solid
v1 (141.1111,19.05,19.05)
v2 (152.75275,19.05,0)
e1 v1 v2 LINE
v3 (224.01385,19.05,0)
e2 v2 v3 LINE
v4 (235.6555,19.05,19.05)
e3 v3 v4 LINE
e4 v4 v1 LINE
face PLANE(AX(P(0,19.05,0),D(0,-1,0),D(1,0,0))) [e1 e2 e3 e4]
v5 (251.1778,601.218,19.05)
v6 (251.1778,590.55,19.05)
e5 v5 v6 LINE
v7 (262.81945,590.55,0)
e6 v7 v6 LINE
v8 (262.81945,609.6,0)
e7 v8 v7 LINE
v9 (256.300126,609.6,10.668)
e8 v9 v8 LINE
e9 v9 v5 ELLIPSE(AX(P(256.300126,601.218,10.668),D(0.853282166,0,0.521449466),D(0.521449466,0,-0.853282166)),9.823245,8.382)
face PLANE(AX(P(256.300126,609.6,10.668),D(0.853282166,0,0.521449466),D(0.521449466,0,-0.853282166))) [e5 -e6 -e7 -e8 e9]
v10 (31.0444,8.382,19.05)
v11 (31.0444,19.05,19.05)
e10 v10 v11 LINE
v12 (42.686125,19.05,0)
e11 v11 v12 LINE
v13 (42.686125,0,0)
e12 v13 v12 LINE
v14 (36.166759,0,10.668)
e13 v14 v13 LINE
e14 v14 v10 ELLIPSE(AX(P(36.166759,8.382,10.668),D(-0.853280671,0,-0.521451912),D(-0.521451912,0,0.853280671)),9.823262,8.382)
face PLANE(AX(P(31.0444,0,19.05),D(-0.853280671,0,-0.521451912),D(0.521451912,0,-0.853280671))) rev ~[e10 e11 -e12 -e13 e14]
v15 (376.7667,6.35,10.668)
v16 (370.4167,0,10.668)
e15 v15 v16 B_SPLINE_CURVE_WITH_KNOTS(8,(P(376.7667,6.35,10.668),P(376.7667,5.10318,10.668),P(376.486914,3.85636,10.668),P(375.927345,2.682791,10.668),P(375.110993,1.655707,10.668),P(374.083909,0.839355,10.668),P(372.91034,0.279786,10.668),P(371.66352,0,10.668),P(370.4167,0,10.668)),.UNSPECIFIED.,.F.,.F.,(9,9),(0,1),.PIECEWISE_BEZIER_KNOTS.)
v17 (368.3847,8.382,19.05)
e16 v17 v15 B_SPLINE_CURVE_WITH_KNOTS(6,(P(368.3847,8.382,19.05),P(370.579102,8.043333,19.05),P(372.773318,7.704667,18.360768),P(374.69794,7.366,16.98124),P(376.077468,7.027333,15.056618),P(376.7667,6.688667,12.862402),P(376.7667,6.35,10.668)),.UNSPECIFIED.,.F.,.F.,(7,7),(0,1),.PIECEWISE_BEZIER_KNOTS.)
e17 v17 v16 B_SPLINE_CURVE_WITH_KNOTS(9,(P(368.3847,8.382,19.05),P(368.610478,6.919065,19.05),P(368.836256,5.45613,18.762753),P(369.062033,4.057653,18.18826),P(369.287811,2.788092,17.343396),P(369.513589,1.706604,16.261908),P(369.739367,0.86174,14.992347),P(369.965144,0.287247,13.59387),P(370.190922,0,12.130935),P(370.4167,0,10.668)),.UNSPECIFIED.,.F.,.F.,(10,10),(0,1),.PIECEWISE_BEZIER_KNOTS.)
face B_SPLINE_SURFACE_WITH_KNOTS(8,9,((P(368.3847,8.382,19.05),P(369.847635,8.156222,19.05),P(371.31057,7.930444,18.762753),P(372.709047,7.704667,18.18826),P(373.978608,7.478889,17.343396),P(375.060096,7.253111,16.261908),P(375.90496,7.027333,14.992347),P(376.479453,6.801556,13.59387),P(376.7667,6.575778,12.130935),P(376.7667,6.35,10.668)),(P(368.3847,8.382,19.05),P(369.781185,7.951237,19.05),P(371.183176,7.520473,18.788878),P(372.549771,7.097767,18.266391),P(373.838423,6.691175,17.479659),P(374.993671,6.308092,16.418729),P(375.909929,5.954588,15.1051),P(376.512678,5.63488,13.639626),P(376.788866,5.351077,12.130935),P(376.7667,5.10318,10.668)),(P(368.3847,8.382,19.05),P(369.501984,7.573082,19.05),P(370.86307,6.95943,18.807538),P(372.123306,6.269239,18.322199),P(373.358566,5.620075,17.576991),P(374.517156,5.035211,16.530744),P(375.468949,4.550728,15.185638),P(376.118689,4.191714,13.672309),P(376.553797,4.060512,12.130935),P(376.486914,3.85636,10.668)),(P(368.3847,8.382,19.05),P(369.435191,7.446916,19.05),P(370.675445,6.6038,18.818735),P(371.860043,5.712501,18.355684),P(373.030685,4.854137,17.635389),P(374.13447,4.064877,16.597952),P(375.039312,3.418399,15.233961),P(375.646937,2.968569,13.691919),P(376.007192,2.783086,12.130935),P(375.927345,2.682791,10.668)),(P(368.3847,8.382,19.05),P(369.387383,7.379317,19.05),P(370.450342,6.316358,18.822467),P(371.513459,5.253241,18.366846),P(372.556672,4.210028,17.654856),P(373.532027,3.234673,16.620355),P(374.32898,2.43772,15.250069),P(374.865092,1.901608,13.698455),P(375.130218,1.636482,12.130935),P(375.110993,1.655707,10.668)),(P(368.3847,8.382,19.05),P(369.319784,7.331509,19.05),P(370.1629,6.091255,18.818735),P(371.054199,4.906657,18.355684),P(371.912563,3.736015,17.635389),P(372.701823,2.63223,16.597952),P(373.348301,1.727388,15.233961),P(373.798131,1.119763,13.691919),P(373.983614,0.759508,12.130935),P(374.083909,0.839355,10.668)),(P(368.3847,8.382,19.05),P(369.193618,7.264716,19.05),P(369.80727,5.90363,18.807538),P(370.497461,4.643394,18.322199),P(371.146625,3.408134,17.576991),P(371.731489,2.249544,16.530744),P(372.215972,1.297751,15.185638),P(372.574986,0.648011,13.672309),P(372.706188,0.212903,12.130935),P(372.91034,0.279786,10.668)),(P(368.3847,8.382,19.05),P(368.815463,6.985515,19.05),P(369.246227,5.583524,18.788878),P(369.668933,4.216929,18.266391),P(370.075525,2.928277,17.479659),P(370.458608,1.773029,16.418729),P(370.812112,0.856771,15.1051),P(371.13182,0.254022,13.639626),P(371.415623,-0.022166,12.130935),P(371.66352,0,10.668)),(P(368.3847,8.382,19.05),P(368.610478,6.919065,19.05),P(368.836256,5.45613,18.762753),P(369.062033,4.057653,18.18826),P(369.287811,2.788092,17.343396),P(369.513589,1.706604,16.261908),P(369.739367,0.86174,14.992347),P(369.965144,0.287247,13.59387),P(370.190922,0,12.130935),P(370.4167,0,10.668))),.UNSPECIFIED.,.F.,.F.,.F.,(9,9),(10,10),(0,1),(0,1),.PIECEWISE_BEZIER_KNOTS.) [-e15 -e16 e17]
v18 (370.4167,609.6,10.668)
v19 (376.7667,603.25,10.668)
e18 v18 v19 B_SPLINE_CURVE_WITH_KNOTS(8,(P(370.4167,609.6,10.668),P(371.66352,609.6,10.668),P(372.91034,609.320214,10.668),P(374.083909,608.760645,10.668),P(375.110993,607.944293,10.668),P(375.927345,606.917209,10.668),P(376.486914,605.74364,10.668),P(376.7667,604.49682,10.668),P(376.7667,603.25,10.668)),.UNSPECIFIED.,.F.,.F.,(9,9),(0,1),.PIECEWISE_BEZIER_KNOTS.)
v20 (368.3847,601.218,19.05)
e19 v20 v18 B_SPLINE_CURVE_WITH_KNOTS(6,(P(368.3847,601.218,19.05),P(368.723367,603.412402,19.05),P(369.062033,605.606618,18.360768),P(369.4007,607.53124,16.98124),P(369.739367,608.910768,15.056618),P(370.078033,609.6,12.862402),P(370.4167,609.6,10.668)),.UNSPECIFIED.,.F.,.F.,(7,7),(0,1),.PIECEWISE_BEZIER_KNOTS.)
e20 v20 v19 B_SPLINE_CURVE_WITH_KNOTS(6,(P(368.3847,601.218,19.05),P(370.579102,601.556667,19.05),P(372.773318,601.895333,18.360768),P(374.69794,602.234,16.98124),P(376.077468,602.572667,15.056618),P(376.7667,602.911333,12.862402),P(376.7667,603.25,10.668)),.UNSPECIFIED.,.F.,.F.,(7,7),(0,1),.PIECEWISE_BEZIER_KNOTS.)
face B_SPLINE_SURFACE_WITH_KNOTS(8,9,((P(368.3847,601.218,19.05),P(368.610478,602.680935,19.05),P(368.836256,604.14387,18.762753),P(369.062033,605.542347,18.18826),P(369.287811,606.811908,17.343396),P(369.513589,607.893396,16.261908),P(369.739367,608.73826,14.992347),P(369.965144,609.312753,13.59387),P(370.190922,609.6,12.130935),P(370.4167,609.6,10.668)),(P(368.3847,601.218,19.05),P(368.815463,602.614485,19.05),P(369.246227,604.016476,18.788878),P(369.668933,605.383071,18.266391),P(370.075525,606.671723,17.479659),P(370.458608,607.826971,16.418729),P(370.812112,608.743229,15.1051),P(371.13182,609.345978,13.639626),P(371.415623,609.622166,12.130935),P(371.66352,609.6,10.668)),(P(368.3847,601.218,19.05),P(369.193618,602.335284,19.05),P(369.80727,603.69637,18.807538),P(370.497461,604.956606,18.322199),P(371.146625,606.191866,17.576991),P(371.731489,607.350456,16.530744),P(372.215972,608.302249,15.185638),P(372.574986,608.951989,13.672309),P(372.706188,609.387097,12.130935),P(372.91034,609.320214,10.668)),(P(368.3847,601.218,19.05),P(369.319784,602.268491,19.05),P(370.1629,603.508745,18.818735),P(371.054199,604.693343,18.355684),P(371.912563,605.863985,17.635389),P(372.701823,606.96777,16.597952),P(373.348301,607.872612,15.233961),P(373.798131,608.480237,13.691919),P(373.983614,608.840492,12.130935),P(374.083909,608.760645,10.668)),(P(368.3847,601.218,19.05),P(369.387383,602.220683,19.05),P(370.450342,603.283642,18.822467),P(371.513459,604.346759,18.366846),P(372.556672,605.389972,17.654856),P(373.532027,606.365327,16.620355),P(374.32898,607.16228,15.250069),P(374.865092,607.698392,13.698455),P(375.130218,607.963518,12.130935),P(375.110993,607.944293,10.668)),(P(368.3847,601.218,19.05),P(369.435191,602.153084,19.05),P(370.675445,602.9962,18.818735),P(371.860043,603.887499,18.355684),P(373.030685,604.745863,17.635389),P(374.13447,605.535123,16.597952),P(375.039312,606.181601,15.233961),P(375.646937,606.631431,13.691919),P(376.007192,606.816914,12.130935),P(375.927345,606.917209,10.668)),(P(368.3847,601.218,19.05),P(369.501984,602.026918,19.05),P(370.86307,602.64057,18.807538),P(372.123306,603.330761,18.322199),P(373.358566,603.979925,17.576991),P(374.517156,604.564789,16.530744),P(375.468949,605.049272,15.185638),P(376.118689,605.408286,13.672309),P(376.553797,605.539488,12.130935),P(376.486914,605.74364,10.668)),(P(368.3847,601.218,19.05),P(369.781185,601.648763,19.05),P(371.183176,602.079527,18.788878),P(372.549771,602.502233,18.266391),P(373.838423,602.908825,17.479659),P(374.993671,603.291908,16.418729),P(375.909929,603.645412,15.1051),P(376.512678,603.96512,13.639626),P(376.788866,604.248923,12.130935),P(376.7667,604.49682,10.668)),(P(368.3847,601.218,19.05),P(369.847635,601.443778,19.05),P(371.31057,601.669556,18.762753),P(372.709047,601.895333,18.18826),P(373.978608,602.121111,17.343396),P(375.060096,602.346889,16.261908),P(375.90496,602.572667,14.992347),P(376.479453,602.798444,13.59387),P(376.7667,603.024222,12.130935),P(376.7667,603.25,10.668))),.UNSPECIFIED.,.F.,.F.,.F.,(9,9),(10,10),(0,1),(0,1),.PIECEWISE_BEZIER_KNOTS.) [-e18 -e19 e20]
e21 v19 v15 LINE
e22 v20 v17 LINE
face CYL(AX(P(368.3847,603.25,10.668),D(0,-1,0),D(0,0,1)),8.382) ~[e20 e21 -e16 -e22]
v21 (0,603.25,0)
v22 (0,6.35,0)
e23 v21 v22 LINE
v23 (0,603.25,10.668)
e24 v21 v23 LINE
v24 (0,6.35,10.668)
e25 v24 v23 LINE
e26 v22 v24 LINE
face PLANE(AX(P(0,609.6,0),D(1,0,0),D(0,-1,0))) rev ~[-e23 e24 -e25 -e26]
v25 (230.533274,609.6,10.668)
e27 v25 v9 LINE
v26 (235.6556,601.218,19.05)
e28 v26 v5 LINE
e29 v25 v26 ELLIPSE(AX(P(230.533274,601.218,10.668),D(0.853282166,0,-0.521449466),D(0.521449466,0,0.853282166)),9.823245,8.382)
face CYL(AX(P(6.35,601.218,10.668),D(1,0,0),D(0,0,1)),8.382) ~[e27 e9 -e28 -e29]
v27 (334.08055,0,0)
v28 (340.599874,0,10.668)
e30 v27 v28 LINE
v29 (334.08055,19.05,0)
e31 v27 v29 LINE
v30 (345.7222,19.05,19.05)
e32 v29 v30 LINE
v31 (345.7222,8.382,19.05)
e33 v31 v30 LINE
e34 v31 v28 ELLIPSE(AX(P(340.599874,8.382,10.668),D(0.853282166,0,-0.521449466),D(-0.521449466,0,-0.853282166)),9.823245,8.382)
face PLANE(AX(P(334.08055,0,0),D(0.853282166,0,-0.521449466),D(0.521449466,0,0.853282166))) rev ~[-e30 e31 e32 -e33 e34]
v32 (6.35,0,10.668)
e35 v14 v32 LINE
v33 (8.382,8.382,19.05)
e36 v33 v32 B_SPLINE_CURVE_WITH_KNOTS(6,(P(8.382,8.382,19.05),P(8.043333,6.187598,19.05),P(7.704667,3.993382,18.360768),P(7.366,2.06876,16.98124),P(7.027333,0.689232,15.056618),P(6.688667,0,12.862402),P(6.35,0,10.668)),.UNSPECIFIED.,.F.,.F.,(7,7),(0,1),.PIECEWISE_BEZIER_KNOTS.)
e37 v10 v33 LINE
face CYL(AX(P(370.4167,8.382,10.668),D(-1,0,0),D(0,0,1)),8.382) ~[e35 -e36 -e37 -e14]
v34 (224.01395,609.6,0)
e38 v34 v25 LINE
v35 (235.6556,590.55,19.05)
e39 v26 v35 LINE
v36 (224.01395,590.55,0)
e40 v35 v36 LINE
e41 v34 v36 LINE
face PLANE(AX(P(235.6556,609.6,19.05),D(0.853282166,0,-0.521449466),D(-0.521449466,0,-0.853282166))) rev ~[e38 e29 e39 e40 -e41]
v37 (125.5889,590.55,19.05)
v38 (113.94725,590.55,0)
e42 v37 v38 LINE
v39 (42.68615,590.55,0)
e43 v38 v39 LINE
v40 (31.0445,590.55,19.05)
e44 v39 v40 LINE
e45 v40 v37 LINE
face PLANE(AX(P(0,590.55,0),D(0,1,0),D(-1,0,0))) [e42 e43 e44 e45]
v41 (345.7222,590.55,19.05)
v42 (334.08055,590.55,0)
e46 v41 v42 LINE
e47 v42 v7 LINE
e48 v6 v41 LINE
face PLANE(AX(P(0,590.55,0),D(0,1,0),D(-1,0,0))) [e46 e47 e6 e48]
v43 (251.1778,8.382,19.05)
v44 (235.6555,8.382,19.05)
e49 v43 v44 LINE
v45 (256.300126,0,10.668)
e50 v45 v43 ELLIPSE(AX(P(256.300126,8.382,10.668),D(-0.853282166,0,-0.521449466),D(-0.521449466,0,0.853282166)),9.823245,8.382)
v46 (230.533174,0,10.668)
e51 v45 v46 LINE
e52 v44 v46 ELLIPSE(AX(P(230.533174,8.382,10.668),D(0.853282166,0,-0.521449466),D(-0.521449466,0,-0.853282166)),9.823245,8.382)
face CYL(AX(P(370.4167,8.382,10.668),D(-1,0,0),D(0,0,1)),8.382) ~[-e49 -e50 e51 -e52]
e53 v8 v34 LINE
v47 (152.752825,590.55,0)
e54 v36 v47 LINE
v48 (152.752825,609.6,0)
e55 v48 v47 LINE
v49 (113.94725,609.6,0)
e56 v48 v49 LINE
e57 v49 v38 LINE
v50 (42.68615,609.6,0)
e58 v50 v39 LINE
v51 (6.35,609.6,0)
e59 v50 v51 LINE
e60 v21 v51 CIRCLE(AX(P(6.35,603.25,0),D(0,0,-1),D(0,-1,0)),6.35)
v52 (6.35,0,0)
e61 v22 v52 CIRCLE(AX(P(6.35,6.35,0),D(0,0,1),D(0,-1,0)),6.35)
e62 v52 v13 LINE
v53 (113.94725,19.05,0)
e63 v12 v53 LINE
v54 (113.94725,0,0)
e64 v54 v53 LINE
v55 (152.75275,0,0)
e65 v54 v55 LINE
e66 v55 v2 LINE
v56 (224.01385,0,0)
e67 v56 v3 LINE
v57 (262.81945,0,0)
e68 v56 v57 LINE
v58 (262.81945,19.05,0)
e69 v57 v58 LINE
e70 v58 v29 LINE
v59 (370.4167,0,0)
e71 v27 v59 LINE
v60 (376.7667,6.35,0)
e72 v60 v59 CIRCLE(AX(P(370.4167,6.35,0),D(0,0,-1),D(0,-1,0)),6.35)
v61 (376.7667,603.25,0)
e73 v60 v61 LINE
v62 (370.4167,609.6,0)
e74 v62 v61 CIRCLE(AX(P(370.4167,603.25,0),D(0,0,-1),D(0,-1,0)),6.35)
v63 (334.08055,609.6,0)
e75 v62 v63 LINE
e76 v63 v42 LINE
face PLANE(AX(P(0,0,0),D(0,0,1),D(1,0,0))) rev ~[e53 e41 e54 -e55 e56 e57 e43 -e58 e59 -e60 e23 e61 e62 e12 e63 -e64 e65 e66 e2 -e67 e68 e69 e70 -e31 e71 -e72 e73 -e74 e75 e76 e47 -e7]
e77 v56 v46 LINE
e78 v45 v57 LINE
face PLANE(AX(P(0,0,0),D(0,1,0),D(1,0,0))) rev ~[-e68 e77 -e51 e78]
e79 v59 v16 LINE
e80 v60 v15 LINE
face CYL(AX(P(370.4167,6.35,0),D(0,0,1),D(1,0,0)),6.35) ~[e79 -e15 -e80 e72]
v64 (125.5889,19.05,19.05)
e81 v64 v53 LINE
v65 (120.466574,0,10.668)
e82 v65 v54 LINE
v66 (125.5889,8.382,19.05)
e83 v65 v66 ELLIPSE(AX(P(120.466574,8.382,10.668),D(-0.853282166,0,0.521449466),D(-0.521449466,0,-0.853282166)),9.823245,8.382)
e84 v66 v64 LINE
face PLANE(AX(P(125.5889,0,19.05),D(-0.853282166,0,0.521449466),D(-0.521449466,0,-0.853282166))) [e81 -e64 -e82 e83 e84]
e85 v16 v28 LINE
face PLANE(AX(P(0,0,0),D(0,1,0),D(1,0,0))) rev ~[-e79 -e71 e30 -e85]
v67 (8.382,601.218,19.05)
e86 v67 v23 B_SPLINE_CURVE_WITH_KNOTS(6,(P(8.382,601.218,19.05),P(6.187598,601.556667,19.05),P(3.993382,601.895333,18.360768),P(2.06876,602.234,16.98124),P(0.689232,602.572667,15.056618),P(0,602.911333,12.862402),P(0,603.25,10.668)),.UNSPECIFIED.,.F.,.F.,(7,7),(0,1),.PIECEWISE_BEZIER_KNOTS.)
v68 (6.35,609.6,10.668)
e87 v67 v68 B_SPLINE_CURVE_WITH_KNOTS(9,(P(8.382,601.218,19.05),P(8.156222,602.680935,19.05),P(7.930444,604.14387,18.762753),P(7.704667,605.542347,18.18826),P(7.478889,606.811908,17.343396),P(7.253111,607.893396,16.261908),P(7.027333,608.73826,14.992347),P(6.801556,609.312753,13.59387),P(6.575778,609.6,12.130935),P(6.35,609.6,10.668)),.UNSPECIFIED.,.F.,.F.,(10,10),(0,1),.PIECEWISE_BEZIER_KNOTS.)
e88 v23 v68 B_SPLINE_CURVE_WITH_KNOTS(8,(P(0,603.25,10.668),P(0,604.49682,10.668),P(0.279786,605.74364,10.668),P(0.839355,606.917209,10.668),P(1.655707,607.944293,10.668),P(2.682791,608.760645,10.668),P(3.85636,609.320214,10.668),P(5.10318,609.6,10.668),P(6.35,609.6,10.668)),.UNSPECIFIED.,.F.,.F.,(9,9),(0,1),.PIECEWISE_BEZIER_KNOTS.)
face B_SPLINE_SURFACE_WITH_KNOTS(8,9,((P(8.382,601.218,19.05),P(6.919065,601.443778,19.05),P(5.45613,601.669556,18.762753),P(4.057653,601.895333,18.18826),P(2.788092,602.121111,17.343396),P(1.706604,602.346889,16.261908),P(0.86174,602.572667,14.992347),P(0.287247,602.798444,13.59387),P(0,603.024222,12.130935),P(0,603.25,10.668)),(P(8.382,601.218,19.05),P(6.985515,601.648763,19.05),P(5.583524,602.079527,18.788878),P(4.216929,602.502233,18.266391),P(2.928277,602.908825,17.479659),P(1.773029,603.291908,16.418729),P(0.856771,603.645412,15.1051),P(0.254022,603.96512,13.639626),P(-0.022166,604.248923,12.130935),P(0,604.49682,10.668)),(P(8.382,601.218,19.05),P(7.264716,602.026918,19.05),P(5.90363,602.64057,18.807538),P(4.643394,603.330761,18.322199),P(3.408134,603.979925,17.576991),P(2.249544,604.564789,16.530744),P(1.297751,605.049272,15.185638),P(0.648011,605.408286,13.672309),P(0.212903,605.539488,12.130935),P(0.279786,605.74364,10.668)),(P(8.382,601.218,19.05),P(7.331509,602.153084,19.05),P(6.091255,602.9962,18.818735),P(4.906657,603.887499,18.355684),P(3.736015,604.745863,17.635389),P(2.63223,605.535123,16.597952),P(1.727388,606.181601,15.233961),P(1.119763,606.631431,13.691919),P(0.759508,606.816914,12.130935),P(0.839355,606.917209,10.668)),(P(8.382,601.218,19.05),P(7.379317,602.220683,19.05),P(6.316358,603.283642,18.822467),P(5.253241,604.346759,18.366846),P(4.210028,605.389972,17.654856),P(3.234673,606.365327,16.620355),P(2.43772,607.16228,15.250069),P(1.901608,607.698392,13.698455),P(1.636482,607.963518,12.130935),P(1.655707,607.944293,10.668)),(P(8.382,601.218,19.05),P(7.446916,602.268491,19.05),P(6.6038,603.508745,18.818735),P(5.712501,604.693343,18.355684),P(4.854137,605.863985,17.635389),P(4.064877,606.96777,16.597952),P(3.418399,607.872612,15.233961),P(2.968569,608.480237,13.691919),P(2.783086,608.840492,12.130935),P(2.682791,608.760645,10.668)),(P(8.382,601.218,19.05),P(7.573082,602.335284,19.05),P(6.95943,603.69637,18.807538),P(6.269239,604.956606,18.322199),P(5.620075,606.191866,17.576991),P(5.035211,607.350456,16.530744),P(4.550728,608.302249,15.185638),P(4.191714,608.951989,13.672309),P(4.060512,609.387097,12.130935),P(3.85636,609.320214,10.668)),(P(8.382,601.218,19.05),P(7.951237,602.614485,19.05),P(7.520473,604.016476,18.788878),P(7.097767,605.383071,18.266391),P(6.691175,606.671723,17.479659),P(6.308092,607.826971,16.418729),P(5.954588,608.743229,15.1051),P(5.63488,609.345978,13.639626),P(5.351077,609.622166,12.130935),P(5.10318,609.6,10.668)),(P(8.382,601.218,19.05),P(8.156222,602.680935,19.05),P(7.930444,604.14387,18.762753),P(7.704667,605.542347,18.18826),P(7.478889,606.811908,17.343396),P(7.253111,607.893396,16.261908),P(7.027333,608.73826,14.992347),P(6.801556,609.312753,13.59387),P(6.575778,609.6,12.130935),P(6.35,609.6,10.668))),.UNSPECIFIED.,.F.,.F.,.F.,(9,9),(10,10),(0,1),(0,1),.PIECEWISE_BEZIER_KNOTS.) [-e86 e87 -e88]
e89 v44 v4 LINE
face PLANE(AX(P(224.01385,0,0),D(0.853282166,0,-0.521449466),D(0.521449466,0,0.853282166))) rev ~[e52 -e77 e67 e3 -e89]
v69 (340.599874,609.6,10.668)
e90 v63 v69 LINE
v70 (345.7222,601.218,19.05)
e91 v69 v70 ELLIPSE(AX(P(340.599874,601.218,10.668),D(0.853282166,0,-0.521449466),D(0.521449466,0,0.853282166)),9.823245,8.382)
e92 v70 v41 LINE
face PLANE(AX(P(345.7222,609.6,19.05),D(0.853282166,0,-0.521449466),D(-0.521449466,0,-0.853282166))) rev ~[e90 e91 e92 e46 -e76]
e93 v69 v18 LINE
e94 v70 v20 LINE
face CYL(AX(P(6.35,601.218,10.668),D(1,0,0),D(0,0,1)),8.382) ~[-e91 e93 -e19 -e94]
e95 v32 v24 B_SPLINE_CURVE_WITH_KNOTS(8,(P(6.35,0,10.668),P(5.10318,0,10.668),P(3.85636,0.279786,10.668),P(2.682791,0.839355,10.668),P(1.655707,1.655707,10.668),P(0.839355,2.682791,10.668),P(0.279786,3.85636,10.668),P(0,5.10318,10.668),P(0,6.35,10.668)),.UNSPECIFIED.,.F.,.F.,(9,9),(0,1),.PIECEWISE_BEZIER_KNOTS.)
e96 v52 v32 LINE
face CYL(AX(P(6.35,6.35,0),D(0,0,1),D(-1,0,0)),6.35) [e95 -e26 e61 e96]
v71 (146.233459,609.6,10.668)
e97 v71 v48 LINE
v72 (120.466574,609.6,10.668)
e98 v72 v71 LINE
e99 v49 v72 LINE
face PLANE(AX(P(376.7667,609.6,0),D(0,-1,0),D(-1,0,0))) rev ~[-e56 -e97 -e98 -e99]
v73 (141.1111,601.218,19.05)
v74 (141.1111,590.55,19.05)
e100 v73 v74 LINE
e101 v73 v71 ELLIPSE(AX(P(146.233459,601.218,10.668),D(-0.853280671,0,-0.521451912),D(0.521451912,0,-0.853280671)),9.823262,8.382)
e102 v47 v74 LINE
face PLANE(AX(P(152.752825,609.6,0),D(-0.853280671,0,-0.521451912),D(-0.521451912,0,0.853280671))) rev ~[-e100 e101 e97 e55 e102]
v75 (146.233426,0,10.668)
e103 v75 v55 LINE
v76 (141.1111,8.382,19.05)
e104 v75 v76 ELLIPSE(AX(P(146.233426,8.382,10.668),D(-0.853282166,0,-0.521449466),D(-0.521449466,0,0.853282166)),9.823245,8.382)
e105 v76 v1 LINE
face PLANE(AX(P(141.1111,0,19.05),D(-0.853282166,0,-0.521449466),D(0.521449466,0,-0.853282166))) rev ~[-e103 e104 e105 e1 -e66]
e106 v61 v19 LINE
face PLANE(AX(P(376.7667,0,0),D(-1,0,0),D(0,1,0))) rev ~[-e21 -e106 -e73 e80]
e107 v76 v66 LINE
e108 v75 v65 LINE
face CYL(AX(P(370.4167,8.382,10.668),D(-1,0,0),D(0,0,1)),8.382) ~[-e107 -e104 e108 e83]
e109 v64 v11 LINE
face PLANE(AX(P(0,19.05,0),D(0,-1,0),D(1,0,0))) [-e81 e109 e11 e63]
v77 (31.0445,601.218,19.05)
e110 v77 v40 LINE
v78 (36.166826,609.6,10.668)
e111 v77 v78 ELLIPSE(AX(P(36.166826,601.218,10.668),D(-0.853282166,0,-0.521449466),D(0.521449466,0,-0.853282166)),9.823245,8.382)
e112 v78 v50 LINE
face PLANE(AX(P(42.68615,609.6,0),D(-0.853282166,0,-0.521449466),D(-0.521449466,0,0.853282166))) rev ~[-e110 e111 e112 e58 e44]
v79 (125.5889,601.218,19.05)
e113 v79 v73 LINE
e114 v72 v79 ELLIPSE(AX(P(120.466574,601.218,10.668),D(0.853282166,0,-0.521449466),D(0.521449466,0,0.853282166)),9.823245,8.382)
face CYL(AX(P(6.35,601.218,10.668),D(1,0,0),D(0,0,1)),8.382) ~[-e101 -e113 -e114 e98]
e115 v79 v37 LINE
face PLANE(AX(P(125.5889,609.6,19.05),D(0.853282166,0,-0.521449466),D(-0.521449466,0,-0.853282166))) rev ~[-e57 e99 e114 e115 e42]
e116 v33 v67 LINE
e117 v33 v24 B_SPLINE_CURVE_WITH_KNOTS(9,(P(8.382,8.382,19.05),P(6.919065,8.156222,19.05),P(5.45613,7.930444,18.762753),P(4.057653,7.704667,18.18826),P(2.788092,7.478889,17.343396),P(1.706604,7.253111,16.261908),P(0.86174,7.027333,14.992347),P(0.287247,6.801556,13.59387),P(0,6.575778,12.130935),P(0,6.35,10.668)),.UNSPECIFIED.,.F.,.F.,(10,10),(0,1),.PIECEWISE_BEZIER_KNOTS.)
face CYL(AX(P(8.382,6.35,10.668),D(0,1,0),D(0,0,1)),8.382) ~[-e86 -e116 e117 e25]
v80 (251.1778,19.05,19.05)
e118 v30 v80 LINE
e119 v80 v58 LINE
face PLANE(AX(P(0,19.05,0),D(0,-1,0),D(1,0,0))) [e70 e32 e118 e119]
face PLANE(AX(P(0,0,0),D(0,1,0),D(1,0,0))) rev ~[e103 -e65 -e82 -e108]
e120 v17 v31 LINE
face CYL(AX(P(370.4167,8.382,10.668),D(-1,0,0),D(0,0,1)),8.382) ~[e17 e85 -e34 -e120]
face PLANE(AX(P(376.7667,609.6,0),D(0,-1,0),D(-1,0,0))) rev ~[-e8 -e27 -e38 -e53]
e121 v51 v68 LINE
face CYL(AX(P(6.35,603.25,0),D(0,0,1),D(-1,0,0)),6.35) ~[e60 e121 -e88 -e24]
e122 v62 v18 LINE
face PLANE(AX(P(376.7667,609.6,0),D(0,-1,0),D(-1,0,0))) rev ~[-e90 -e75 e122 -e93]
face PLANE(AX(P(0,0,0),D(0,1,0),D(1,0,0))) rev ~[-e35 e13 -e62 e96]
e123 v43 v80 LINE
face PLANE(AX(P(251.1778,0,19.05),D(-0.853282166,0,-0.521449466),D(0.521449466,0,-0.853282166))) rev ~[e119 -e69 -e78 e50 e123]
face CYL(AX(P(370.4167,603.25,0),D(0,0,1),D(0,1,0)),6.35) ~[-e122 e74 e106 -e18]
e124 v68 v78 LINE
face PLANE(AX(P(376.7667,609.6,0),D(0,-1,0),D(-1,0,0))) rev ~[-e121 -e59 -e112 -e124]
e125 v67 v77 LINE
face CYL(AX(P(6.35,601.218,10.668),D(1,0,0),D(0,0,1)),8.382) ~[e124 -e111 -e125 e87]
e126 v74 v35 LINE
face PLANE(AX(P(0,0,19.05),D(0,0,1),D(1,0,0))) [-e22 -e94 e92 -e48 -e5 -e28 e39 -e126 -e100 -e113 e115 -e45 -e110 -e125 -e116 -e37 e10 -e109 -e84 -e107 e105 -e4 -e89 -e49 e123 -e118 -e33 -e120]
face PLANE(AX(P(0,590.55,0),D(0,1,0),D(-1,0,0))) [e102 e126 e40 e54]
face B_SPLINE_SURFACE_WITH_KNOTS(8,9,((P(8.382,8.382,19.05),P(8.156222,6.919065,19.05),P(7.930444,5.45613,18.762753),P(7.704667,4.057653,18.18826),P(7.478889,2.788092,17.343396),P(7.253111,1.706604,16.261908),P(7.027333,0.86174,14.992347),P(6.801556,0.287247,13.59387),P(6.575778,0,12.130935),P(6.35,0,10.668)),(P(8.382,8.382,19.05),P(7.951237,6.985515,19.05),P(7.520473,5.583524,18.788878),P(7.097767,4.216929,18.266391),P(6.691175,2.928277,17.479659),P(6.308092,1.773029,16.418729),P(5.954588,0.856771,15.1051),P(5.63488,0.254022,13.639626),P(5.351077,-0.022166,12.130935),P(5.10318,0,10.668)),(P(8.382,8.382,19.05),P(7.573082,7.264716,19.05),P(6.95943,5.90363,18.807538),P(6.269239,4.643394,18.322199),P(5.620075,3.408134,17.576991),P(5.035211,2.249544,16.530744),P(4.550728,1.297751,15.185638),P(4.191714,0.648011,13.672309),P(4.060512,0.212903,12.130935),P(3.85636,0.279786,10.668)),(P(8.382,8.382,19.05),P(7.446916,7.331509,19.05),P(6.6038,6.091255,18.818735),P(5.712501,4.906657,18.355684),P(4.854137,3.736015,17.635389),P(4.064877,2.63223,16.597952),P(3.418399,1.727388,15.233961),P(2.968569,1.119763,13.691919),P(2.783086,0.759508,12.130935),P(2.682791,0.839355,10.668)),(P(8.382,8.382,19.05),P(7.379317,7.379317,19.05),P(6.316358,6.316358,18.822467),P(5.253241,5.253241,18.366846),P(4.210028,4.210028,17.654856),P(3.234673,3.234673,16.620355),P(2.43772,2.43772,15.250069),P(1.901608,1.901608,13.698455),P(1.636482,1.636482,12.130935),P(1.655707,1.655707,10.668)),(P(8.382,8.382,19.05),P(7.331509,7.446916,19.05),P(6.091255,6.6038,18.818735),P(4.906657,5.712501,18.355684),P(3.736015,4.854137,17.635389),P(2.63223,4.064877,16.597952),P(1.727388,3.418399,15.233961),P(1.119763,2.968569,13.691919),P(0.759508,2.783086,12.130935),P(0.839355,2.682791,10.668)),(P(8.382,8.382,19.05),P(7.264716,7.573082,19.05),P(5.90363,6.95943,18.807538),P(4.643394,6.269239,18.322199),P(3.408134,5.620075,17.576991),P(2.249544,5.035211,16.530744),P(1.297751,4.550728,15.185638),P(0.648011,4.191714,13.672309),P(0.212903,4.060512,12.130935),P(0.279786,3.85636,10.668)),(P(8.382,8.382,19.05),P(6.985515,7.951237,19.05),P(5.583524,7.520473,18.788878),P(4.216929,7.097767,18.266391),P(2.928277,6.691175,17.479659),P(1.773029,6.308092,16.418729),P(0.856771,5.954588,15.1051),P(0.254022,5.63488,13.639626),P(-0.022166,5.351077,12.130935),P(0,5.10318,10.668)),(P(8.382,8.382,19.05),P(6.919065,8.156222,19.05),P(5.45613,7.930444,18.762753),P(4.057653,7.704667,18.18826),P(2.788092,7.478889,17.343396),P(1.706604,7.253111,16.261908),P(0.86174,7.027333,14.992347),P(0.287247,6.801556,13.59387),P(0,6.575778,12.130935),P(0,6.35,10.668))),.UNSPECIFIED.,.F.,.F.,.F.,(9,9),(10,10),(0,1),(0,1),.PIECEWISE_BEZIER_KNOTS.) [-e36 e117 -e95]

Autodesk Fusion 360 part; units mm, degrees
sketch "Sketch2" plane through (0, 0, 0) normal (0, 0, 1) x (1, 0, 0)
  line L0 (0, 0) -> (376.7667, 0)
  line L1 (376.7667, 0) -> (376.7667, 609.6)
  line L2 (376.7667, 609.6) -> (0, 609.6)
  line L3 (0, 609.6) -> (0, 0)
  dimension "d4" = 376.7667
  dimension "d5" = 609.6
extrude "Extrude1" add sketch "Sketch2" along normal blind 19.05
sketch "Sketch3" plane through (0, 0, 19.05) normal (0, 0, 1) x (-1, 0, 0)
  line L0 (0, -609.6) -> (0, 0)
  line L1 (0, 0) -> (-376.7667, 0)
  line L2 (-376.7667, 0) -> (-376.7667, -609.6)
  line L3 (-376.7667, -609.6) -> (0, -609.6)
  line L4 (25.4, 0) -> (402.1667, 0)
  line L5 (402.1667, 0) -> (402.1667, -376.7667)
  line L6 (402.1667, -376.7667) -> (25.4, -376.7667)
  line L7 (25.4, -376.7667) -> (25.4, 0)
  dimension "d8" = 376.7667
  dimension "d9" = 376.7667
sketch "Sketch4" plane through (0, 0, 19.05) normal (0, 0, 1) x (-1, 0, 0)
  line L0 (0, -609.6) -> (0, 0)
  line L1 (0, 0) -> (-376.7667, 0)
  line L2 (-376.7667, 0) -> (-376.7667, -609.6)
  line L3 (-376.7667, -609.6) -> (0, -609.6)
  line L4 (25.4, 0) -> (71.9667, 0)
  line L5 (25.4, 0) -> (25.4, -25.4)
  line L6 (402.1667, -25.4) -> (402.1667, 0)
  line L7 (402.1667, -25.4) -> (402.1667, 0)
  line L8 (46.587, 0) -> (25.4, 0)
  line L9 (71.9667, 0) -> (56.4444, 0)
  line L10 (56.4444, 0) -> (71.9667, -25.4)
  line L11 (150.9889, 0) -> (135.4667, -25.4)
  line L12 (150.9889, 0) -> (166.5111, 0)
  line L13 (166.5111, 0) -> (182.0333, 0)
  line L14 (166.5111, 0) -> (182.0333, -25.4)
  line L15 (245.5333, -25.4) -> (261.0555, 0)
  line L16 (261.0555, 0) -> (276.5778, 0)
  line L17 (276.5778, 0) -> (292.1, -25.4)
  line L18 (355.6, -25.4) -> (371.1222, 0)
  line L19 (402.1667, 0) -> (386.6444, 0)
  line L20 (386.6444, 0) -> (371.1222, 0)
  line L21 (402.1667, 0) -> (402.1667, -376.7667)
  line L22 (402.1667, -188.3833) -> (25.4, -188.3833)
  line L23 (402.1667, -351.3667) -> (402.1667, -376.7667)
  line L24 (402.1667, -376.7667) -> (402.1667, 0)
  line L25 (166.5111, -376.7667) -> (182.0333, -376.7667)
  line L26 (386.6444, -376.7667) -> (371.1222, -376.7667)
  line L27 (25.4, -376.7667) -> (71.9667, -376.7667)
  line L28 (166.5111, -376.7667) -> (182.0333, -351.3667)
  line L29 (355.6, -351.3667) -> (371.1222, -376.7667)
  line L30 (402.1667, -351.3667) -> (402.1667, -376.7667)
  line L31 (56.4444, -376.7667) -> (71.9667, -351.3667)
  line L32 (245.5333, -351.3667) -> (261.0555, -376.7667)
  line L33 (25.4, -376.7667) -> (25.4, -351.3667)
  line L34 (261.0555, -376.7667) -> (276.5778, -376.7667)
  line L35 (71.9667, -376.7667) -> (56.4444, -376.7667)
  line L36 (46.587, -376.7667) -> (25.4, -376.7667)
  line L37 (276.5778, -376.7667) -> (292.1, -351.3667)
  line L38 (402.1667, -376.7667) -> (386.6444, -376.7667)
  line L39 (150.9889, -376.7667) -> (166.5111, -376.7667)
  line L40 (150.9889, -376.7667) -> (135.4667, -351.3667)
  line L41 (25.4, -25.4) -> (25.4, -19.05)
  line L42 (25.4, -19.05) -> (414.4129, -19.05)
  line L43 (402.1667, -351.3667) -> (402.1667, -357.7167)
  line L44 (402.1667, -357.7167) -> (12.7, -357.7167)
  dimension "d12" = 46.5667
  dimension "d13" = 25.4
  dimension "d14" = 376.7667
  dimension "d15" = 46.5667
  dimension "d16" = 63.5
  dimension "d17" = 46.5667
  dimension "d18" = 15.5222
  dimension "d20" = 15.5222
  dimension "d21" = 15.5222
  dimension "d22" = 63.5
  dimension "d24" = 46.5667
  dimension "d25" = 15.5222
  dimension "d26" = 63.5
  dimension "d456" = 376.7667
  dimension "d473" = 6.35
  dimension "d474" = 6.35
sketch "Sketch5" plane through (0, 609.6, 0) normal (0, 1, 0) x (-1, 0, 0)
  line L0 (-376.7667, 0) -> (0, 0)
  line L1 (0, 0) -> (0, 19.05)
  line L2 (0, 19.05) -> (-376.7667, 19.05)
  line L3 (-376.7667, 19.05) -> (-376.7667, 0)
  line L4 (-376.7667, 0) -> (0, 0)
  line L5 (-123.6562, -70.3757) -> (-108.134, -95.7757)
  line L6 (-328.2673, -70.3757) -> (-343.7895, -70.3757)
  line L7 (-343.7895, -70.3757) -> (-328.2673, -95.7757)
  line L8 (-154.7007, -95.7757) -> (-139.1784, -70.3757)
  line L9 (-233.7229, -70.3757) -> (-218.2007, -95.7757)
  line L10 (-374.834, -95.7757) -> (-328.2673, -95.7757)
  line L11 (-139.1784, -70.3757) -> (-123.6562, -70.3757)
  line L12 (-233.7229, -70.3757) -> (-218.2007, -70.3757)
  line L13 (-249.2451, -70.3757) -> (-264.7673, -95.7757)
  line L14 (-13.5895, -70.3757) -> (-29.1118, -70.3757)
  line L15 (-44.634, -95.7757) -> (-29.1118, -70.3757)
  line L16 (1.9327, -70.3757) -> (-13.5895, -70.3757)
  line L17 (1.9327, -95.7757) -> (1.9327, -70.3757)
  line L18 (-328.2673, -70.3757) -> (-249.2451, -70.3757)
  line L19 (-264.7673, -95.7757) -> (-328.2673, -95.7757)
  line L20 (-218.2007, -95.7757) -> (-154.7007, -95.7757)
  line L21 (-108.134, -95.7757) -> (-44.634, -95.7757)
  line L22 (-29.1118, -70.3757) -> (-123.6562, -70.3757)
  line L23 (-139.1784, -70.3757) -> (-233.7229, -70.3757)
  dimension "d463" = 63.5
  dimension "d464" = 46.5667
  dimension "d465" = 15.5222
  dimension "d466" = 15.5222
  dimension "d467" = 15.5222
  dimension "d468" = 63.5
  dimension "d469" = 46.5667
  dimension "d470" = 15.5222
  dimension "d471" = 63.5
sketch "Sketch6" plane through (0, 0, 0) normal (0, -1, 0) x (1, 0, 0)
  line L0 (0, 0) -> (376.7667, 0)
  line L1 (376.7667, 0) -> (376.7667, 19.05)
  line L2 (376.7667, 19.05) -> (0, 19.05)
  line L3 (0, 19.05) -> (0, 0)
  line L4 (46.5667, 19.05) -> (31.0444, 19.05)
  line L5 (0, -6.35) -> (0, 0)
  line L6 (361.2444, 19.05) -> (345.7222, 19.05)
  line L7 (376.7667, -6.35) -> (376.7667, 19.05)
  line L8 (31.0444, 19.05) -> (46.5667, -6.35)
  line L9 (235.6555, 19.05) -> (251.1778, 19.05)
  line L10 (125.5889, 19.05) -> (141.1111, 19.05)
  line L11 (330.2, -6.35) -> (345.7222, 19.05)
  line L12 (0, 0) -> (389.0129, 0)
  line L13 (125.5889, 19.05) -> (110.0667, -6.35)
  line L14 (376.7667, -6.35) -> (376.7667, 19.05)
  line L15 (376.7667, 19.05) -> (361.2444, 19.05)
  line L16 (0, 19.05) -> (0, -6.35)
  line L17 (0, 19.05) -> (46.5667, 19.05)
  line L18 (220.1333, -6.35) -> (235.6555, 19.05)
  line L19 (21.187, 19.05) -> (0, 19.05)
  line L20 (141.1111, 19.05) -> (156.6333, -6.35)
  line L21 (141.1111, 19.05) -> (156.6333, 19.05)
  line L22 (251.1778, 19.05) -> (266.7, -6.35)
  point P0 (376.7667, 19.05)
  dimension "d492" = 46.5667
  dimension "d493" = 25.4
  dimension "d494" = 376.7667
  dimension "d495" = 46.5667
  dimension "d496" = 63.5
  dimension "d497" = 46.5667
  dimension "d498" = 15.5222
  dimension "d499" = 15.5222
  dimension "d500" = 15.5222
  dimension "d501" = 63.5
  dimension "d502" = 46.5667
  dimension "d503" = 15.5222
  dimension "d504" = 63.5
  dimension "d505" = 6.35
fillet "Fillet2" radius 6.35 4 edges at (376.7667, 0, 9.525) (0, 0, 9.525) (376.7667, 609.6, 9.525) (0, 609.6, 9.525)
fillet "Fillet3" radius 8.382 8 edges at (374.9068, 607.7401, 19.05) (188.3833, 609.6, 19.05) (1.8599, 607.7401, 19.05) (0, 304.8, 19.05) (1.8599, 1.8599, 19.05) (188.3833, 0, 19.05) (374.9068, 1.8599, 19.05) (376.7667, 304.8, 19.05)
extrude "Extrude6" cut sketch "Sketch6" against normal blind 19.05 contours L0 L2 L4 L8 L12 L13 L17 | L0 L2 L12 L18 L20 L21 | L0 L2 L11 L12 L22
sketch "Sketch7" plane through (0, 609.6, 0) normal (0, 1, 0) x (-1, 0, 0)
  line L0 (-370.4167, 0) -> (-6.35, 0)
  line L1 (0, 19.05) -> (-376.7667, 19.05)
  line L2 (-376.7667, 19.05) -> (-376.7667, 0)
  line L3 (-355.5797, 19.05) -> (-376.7667, 19.05)
  line L4 (-376.7667, 19.05) -> (-376.7667, -6.35)
  line L5 (-345.7222, 19.05) -> (-330.2, -6.35)
  line L6 (-376.7667, 19.05) -> (-330.2, 19.05)
  line L7 (-376.7667, 0) -> (0, 0)
  line L8 (-330.2, 19.05) -> (-345.7222, 19.05)
  line L9 (-156.6334, -6.35) -> (-141.1111, 19.05)
  line L10 (-251.1778, 19.05) -> (-266.7, -6.35)
  line L11 (-46.5667, -6.35) -> (-31.0445, 19.05)
  line L12 (-141.1111, 19.05) -> (-125.5889, 19.05)
  line L13 (-125.5889, 19.05) -> (-110.0667, -6.35)
  line L14 (-235.6556, 19.05) -> (-220.1333, 19.05)
  line L15 (-251.1778, 19.05) -> (-235.6556, 19.05)
  line L16 (-15.5222, 19.05) -> (-31.0445, 19.05)
  line L17 (0, -6.35) -> (0, 19.05)
  line L18 (0, -6.35) -> (0, 19.05)
  line L19 (-235.6556, 19.05) -> (-220.1334, -6.35)
  line L20 (0, 0) -> (0, 19.05)
  line L21 (0, 19.05) -> (-15.5222, 19.05)
  line L22 (0, 19.05) -> (0, 9.525)
  line L23 (-15.5222, 0) -> (-31.0445, 0)
  line L24 (-330.2, 0) -> (-345.7222, 0)
  line L25 (-235.6556, 0) -> (-220.1333, 0)
  line L26 (-376.7667, 0) -> (-330.2, 0)
  line L27 (-376.7667, 0) -> (-376.7667, 19.05)
  line L28 (-355.5797, 0) -> (-376.7667, 0)
  line L29 (-141.1111, 0) -> (-125.5889, 0)
  line L30 (0, 0) -> (-15.5222, 0)
  line L31 (-251.1778, 0) -> (-235.6556, 0)
  line L32 (0, 0) -> (0, 9.525)
  line L33 (-376.7667, 19.05) -> (0, 19.05)
  line L34 (0, 19.05) -> (0, 0)
  line L35 (-376.7667, 19.05) -> (0, 19.05)
  line L36 (-376.7667, 0) -> (-376.7667, 25.4)
  line L37 (0, 0) -> (-376.7667, 0)
  line L38 (-376.7667, 0) -> (-376.7667, 19.05)
  line L39 (0, 19.05) -> (0, 0)
  line L40 (0, 0) -> (-376.7667, 0)
  line L41 (-6.35, 10.668) -> (-370.4167, 10.668)
  line L42 (-370.4167, 10.668) -> (-370.4167, 0)
  line L43 (-6.35, 0) -> (-6.35, 10.668)
  point P0 (0, 19.05)
  point P1 (-376.7667, 0)
  point P2 (0, 0)
  point P3 (-376.7667, 19.05)
  point P4 (0, 19.05)
  dimension "d522" = 46.5667
  dimension "d523" = 25.4
  dimension "d524" = 376.7667
  dimension "d525" = 46.5667
  dimension "d526" = 63.5
  dimension "d527" = 46.5667
  dimension "d528" = 15.5222
  dimension "d529" = 15.5222
  dimension "d530" = 15.5222
  dimension "d531" = 63.5
  dimension "d532" = 46.5667
  dimension "d533" = 15.5222
  dimension "d534" = 63.5
extrude "Extrude7" cut sketch "Sketch7" against normal blind 19.05 contours L0 L5 L7 L10 L24 L26 L37 L40 L41 | L1 L5 L6 L8 L10 L33 L35 L41 | L0 L7 L9 L19 L25 L37 L40 L41 | L1 L9 L14 L19 L33 L35 L41 | L0 L7 L11 L13 L37 L40 L41 | L1 L11 L13 L33 L35 L41
